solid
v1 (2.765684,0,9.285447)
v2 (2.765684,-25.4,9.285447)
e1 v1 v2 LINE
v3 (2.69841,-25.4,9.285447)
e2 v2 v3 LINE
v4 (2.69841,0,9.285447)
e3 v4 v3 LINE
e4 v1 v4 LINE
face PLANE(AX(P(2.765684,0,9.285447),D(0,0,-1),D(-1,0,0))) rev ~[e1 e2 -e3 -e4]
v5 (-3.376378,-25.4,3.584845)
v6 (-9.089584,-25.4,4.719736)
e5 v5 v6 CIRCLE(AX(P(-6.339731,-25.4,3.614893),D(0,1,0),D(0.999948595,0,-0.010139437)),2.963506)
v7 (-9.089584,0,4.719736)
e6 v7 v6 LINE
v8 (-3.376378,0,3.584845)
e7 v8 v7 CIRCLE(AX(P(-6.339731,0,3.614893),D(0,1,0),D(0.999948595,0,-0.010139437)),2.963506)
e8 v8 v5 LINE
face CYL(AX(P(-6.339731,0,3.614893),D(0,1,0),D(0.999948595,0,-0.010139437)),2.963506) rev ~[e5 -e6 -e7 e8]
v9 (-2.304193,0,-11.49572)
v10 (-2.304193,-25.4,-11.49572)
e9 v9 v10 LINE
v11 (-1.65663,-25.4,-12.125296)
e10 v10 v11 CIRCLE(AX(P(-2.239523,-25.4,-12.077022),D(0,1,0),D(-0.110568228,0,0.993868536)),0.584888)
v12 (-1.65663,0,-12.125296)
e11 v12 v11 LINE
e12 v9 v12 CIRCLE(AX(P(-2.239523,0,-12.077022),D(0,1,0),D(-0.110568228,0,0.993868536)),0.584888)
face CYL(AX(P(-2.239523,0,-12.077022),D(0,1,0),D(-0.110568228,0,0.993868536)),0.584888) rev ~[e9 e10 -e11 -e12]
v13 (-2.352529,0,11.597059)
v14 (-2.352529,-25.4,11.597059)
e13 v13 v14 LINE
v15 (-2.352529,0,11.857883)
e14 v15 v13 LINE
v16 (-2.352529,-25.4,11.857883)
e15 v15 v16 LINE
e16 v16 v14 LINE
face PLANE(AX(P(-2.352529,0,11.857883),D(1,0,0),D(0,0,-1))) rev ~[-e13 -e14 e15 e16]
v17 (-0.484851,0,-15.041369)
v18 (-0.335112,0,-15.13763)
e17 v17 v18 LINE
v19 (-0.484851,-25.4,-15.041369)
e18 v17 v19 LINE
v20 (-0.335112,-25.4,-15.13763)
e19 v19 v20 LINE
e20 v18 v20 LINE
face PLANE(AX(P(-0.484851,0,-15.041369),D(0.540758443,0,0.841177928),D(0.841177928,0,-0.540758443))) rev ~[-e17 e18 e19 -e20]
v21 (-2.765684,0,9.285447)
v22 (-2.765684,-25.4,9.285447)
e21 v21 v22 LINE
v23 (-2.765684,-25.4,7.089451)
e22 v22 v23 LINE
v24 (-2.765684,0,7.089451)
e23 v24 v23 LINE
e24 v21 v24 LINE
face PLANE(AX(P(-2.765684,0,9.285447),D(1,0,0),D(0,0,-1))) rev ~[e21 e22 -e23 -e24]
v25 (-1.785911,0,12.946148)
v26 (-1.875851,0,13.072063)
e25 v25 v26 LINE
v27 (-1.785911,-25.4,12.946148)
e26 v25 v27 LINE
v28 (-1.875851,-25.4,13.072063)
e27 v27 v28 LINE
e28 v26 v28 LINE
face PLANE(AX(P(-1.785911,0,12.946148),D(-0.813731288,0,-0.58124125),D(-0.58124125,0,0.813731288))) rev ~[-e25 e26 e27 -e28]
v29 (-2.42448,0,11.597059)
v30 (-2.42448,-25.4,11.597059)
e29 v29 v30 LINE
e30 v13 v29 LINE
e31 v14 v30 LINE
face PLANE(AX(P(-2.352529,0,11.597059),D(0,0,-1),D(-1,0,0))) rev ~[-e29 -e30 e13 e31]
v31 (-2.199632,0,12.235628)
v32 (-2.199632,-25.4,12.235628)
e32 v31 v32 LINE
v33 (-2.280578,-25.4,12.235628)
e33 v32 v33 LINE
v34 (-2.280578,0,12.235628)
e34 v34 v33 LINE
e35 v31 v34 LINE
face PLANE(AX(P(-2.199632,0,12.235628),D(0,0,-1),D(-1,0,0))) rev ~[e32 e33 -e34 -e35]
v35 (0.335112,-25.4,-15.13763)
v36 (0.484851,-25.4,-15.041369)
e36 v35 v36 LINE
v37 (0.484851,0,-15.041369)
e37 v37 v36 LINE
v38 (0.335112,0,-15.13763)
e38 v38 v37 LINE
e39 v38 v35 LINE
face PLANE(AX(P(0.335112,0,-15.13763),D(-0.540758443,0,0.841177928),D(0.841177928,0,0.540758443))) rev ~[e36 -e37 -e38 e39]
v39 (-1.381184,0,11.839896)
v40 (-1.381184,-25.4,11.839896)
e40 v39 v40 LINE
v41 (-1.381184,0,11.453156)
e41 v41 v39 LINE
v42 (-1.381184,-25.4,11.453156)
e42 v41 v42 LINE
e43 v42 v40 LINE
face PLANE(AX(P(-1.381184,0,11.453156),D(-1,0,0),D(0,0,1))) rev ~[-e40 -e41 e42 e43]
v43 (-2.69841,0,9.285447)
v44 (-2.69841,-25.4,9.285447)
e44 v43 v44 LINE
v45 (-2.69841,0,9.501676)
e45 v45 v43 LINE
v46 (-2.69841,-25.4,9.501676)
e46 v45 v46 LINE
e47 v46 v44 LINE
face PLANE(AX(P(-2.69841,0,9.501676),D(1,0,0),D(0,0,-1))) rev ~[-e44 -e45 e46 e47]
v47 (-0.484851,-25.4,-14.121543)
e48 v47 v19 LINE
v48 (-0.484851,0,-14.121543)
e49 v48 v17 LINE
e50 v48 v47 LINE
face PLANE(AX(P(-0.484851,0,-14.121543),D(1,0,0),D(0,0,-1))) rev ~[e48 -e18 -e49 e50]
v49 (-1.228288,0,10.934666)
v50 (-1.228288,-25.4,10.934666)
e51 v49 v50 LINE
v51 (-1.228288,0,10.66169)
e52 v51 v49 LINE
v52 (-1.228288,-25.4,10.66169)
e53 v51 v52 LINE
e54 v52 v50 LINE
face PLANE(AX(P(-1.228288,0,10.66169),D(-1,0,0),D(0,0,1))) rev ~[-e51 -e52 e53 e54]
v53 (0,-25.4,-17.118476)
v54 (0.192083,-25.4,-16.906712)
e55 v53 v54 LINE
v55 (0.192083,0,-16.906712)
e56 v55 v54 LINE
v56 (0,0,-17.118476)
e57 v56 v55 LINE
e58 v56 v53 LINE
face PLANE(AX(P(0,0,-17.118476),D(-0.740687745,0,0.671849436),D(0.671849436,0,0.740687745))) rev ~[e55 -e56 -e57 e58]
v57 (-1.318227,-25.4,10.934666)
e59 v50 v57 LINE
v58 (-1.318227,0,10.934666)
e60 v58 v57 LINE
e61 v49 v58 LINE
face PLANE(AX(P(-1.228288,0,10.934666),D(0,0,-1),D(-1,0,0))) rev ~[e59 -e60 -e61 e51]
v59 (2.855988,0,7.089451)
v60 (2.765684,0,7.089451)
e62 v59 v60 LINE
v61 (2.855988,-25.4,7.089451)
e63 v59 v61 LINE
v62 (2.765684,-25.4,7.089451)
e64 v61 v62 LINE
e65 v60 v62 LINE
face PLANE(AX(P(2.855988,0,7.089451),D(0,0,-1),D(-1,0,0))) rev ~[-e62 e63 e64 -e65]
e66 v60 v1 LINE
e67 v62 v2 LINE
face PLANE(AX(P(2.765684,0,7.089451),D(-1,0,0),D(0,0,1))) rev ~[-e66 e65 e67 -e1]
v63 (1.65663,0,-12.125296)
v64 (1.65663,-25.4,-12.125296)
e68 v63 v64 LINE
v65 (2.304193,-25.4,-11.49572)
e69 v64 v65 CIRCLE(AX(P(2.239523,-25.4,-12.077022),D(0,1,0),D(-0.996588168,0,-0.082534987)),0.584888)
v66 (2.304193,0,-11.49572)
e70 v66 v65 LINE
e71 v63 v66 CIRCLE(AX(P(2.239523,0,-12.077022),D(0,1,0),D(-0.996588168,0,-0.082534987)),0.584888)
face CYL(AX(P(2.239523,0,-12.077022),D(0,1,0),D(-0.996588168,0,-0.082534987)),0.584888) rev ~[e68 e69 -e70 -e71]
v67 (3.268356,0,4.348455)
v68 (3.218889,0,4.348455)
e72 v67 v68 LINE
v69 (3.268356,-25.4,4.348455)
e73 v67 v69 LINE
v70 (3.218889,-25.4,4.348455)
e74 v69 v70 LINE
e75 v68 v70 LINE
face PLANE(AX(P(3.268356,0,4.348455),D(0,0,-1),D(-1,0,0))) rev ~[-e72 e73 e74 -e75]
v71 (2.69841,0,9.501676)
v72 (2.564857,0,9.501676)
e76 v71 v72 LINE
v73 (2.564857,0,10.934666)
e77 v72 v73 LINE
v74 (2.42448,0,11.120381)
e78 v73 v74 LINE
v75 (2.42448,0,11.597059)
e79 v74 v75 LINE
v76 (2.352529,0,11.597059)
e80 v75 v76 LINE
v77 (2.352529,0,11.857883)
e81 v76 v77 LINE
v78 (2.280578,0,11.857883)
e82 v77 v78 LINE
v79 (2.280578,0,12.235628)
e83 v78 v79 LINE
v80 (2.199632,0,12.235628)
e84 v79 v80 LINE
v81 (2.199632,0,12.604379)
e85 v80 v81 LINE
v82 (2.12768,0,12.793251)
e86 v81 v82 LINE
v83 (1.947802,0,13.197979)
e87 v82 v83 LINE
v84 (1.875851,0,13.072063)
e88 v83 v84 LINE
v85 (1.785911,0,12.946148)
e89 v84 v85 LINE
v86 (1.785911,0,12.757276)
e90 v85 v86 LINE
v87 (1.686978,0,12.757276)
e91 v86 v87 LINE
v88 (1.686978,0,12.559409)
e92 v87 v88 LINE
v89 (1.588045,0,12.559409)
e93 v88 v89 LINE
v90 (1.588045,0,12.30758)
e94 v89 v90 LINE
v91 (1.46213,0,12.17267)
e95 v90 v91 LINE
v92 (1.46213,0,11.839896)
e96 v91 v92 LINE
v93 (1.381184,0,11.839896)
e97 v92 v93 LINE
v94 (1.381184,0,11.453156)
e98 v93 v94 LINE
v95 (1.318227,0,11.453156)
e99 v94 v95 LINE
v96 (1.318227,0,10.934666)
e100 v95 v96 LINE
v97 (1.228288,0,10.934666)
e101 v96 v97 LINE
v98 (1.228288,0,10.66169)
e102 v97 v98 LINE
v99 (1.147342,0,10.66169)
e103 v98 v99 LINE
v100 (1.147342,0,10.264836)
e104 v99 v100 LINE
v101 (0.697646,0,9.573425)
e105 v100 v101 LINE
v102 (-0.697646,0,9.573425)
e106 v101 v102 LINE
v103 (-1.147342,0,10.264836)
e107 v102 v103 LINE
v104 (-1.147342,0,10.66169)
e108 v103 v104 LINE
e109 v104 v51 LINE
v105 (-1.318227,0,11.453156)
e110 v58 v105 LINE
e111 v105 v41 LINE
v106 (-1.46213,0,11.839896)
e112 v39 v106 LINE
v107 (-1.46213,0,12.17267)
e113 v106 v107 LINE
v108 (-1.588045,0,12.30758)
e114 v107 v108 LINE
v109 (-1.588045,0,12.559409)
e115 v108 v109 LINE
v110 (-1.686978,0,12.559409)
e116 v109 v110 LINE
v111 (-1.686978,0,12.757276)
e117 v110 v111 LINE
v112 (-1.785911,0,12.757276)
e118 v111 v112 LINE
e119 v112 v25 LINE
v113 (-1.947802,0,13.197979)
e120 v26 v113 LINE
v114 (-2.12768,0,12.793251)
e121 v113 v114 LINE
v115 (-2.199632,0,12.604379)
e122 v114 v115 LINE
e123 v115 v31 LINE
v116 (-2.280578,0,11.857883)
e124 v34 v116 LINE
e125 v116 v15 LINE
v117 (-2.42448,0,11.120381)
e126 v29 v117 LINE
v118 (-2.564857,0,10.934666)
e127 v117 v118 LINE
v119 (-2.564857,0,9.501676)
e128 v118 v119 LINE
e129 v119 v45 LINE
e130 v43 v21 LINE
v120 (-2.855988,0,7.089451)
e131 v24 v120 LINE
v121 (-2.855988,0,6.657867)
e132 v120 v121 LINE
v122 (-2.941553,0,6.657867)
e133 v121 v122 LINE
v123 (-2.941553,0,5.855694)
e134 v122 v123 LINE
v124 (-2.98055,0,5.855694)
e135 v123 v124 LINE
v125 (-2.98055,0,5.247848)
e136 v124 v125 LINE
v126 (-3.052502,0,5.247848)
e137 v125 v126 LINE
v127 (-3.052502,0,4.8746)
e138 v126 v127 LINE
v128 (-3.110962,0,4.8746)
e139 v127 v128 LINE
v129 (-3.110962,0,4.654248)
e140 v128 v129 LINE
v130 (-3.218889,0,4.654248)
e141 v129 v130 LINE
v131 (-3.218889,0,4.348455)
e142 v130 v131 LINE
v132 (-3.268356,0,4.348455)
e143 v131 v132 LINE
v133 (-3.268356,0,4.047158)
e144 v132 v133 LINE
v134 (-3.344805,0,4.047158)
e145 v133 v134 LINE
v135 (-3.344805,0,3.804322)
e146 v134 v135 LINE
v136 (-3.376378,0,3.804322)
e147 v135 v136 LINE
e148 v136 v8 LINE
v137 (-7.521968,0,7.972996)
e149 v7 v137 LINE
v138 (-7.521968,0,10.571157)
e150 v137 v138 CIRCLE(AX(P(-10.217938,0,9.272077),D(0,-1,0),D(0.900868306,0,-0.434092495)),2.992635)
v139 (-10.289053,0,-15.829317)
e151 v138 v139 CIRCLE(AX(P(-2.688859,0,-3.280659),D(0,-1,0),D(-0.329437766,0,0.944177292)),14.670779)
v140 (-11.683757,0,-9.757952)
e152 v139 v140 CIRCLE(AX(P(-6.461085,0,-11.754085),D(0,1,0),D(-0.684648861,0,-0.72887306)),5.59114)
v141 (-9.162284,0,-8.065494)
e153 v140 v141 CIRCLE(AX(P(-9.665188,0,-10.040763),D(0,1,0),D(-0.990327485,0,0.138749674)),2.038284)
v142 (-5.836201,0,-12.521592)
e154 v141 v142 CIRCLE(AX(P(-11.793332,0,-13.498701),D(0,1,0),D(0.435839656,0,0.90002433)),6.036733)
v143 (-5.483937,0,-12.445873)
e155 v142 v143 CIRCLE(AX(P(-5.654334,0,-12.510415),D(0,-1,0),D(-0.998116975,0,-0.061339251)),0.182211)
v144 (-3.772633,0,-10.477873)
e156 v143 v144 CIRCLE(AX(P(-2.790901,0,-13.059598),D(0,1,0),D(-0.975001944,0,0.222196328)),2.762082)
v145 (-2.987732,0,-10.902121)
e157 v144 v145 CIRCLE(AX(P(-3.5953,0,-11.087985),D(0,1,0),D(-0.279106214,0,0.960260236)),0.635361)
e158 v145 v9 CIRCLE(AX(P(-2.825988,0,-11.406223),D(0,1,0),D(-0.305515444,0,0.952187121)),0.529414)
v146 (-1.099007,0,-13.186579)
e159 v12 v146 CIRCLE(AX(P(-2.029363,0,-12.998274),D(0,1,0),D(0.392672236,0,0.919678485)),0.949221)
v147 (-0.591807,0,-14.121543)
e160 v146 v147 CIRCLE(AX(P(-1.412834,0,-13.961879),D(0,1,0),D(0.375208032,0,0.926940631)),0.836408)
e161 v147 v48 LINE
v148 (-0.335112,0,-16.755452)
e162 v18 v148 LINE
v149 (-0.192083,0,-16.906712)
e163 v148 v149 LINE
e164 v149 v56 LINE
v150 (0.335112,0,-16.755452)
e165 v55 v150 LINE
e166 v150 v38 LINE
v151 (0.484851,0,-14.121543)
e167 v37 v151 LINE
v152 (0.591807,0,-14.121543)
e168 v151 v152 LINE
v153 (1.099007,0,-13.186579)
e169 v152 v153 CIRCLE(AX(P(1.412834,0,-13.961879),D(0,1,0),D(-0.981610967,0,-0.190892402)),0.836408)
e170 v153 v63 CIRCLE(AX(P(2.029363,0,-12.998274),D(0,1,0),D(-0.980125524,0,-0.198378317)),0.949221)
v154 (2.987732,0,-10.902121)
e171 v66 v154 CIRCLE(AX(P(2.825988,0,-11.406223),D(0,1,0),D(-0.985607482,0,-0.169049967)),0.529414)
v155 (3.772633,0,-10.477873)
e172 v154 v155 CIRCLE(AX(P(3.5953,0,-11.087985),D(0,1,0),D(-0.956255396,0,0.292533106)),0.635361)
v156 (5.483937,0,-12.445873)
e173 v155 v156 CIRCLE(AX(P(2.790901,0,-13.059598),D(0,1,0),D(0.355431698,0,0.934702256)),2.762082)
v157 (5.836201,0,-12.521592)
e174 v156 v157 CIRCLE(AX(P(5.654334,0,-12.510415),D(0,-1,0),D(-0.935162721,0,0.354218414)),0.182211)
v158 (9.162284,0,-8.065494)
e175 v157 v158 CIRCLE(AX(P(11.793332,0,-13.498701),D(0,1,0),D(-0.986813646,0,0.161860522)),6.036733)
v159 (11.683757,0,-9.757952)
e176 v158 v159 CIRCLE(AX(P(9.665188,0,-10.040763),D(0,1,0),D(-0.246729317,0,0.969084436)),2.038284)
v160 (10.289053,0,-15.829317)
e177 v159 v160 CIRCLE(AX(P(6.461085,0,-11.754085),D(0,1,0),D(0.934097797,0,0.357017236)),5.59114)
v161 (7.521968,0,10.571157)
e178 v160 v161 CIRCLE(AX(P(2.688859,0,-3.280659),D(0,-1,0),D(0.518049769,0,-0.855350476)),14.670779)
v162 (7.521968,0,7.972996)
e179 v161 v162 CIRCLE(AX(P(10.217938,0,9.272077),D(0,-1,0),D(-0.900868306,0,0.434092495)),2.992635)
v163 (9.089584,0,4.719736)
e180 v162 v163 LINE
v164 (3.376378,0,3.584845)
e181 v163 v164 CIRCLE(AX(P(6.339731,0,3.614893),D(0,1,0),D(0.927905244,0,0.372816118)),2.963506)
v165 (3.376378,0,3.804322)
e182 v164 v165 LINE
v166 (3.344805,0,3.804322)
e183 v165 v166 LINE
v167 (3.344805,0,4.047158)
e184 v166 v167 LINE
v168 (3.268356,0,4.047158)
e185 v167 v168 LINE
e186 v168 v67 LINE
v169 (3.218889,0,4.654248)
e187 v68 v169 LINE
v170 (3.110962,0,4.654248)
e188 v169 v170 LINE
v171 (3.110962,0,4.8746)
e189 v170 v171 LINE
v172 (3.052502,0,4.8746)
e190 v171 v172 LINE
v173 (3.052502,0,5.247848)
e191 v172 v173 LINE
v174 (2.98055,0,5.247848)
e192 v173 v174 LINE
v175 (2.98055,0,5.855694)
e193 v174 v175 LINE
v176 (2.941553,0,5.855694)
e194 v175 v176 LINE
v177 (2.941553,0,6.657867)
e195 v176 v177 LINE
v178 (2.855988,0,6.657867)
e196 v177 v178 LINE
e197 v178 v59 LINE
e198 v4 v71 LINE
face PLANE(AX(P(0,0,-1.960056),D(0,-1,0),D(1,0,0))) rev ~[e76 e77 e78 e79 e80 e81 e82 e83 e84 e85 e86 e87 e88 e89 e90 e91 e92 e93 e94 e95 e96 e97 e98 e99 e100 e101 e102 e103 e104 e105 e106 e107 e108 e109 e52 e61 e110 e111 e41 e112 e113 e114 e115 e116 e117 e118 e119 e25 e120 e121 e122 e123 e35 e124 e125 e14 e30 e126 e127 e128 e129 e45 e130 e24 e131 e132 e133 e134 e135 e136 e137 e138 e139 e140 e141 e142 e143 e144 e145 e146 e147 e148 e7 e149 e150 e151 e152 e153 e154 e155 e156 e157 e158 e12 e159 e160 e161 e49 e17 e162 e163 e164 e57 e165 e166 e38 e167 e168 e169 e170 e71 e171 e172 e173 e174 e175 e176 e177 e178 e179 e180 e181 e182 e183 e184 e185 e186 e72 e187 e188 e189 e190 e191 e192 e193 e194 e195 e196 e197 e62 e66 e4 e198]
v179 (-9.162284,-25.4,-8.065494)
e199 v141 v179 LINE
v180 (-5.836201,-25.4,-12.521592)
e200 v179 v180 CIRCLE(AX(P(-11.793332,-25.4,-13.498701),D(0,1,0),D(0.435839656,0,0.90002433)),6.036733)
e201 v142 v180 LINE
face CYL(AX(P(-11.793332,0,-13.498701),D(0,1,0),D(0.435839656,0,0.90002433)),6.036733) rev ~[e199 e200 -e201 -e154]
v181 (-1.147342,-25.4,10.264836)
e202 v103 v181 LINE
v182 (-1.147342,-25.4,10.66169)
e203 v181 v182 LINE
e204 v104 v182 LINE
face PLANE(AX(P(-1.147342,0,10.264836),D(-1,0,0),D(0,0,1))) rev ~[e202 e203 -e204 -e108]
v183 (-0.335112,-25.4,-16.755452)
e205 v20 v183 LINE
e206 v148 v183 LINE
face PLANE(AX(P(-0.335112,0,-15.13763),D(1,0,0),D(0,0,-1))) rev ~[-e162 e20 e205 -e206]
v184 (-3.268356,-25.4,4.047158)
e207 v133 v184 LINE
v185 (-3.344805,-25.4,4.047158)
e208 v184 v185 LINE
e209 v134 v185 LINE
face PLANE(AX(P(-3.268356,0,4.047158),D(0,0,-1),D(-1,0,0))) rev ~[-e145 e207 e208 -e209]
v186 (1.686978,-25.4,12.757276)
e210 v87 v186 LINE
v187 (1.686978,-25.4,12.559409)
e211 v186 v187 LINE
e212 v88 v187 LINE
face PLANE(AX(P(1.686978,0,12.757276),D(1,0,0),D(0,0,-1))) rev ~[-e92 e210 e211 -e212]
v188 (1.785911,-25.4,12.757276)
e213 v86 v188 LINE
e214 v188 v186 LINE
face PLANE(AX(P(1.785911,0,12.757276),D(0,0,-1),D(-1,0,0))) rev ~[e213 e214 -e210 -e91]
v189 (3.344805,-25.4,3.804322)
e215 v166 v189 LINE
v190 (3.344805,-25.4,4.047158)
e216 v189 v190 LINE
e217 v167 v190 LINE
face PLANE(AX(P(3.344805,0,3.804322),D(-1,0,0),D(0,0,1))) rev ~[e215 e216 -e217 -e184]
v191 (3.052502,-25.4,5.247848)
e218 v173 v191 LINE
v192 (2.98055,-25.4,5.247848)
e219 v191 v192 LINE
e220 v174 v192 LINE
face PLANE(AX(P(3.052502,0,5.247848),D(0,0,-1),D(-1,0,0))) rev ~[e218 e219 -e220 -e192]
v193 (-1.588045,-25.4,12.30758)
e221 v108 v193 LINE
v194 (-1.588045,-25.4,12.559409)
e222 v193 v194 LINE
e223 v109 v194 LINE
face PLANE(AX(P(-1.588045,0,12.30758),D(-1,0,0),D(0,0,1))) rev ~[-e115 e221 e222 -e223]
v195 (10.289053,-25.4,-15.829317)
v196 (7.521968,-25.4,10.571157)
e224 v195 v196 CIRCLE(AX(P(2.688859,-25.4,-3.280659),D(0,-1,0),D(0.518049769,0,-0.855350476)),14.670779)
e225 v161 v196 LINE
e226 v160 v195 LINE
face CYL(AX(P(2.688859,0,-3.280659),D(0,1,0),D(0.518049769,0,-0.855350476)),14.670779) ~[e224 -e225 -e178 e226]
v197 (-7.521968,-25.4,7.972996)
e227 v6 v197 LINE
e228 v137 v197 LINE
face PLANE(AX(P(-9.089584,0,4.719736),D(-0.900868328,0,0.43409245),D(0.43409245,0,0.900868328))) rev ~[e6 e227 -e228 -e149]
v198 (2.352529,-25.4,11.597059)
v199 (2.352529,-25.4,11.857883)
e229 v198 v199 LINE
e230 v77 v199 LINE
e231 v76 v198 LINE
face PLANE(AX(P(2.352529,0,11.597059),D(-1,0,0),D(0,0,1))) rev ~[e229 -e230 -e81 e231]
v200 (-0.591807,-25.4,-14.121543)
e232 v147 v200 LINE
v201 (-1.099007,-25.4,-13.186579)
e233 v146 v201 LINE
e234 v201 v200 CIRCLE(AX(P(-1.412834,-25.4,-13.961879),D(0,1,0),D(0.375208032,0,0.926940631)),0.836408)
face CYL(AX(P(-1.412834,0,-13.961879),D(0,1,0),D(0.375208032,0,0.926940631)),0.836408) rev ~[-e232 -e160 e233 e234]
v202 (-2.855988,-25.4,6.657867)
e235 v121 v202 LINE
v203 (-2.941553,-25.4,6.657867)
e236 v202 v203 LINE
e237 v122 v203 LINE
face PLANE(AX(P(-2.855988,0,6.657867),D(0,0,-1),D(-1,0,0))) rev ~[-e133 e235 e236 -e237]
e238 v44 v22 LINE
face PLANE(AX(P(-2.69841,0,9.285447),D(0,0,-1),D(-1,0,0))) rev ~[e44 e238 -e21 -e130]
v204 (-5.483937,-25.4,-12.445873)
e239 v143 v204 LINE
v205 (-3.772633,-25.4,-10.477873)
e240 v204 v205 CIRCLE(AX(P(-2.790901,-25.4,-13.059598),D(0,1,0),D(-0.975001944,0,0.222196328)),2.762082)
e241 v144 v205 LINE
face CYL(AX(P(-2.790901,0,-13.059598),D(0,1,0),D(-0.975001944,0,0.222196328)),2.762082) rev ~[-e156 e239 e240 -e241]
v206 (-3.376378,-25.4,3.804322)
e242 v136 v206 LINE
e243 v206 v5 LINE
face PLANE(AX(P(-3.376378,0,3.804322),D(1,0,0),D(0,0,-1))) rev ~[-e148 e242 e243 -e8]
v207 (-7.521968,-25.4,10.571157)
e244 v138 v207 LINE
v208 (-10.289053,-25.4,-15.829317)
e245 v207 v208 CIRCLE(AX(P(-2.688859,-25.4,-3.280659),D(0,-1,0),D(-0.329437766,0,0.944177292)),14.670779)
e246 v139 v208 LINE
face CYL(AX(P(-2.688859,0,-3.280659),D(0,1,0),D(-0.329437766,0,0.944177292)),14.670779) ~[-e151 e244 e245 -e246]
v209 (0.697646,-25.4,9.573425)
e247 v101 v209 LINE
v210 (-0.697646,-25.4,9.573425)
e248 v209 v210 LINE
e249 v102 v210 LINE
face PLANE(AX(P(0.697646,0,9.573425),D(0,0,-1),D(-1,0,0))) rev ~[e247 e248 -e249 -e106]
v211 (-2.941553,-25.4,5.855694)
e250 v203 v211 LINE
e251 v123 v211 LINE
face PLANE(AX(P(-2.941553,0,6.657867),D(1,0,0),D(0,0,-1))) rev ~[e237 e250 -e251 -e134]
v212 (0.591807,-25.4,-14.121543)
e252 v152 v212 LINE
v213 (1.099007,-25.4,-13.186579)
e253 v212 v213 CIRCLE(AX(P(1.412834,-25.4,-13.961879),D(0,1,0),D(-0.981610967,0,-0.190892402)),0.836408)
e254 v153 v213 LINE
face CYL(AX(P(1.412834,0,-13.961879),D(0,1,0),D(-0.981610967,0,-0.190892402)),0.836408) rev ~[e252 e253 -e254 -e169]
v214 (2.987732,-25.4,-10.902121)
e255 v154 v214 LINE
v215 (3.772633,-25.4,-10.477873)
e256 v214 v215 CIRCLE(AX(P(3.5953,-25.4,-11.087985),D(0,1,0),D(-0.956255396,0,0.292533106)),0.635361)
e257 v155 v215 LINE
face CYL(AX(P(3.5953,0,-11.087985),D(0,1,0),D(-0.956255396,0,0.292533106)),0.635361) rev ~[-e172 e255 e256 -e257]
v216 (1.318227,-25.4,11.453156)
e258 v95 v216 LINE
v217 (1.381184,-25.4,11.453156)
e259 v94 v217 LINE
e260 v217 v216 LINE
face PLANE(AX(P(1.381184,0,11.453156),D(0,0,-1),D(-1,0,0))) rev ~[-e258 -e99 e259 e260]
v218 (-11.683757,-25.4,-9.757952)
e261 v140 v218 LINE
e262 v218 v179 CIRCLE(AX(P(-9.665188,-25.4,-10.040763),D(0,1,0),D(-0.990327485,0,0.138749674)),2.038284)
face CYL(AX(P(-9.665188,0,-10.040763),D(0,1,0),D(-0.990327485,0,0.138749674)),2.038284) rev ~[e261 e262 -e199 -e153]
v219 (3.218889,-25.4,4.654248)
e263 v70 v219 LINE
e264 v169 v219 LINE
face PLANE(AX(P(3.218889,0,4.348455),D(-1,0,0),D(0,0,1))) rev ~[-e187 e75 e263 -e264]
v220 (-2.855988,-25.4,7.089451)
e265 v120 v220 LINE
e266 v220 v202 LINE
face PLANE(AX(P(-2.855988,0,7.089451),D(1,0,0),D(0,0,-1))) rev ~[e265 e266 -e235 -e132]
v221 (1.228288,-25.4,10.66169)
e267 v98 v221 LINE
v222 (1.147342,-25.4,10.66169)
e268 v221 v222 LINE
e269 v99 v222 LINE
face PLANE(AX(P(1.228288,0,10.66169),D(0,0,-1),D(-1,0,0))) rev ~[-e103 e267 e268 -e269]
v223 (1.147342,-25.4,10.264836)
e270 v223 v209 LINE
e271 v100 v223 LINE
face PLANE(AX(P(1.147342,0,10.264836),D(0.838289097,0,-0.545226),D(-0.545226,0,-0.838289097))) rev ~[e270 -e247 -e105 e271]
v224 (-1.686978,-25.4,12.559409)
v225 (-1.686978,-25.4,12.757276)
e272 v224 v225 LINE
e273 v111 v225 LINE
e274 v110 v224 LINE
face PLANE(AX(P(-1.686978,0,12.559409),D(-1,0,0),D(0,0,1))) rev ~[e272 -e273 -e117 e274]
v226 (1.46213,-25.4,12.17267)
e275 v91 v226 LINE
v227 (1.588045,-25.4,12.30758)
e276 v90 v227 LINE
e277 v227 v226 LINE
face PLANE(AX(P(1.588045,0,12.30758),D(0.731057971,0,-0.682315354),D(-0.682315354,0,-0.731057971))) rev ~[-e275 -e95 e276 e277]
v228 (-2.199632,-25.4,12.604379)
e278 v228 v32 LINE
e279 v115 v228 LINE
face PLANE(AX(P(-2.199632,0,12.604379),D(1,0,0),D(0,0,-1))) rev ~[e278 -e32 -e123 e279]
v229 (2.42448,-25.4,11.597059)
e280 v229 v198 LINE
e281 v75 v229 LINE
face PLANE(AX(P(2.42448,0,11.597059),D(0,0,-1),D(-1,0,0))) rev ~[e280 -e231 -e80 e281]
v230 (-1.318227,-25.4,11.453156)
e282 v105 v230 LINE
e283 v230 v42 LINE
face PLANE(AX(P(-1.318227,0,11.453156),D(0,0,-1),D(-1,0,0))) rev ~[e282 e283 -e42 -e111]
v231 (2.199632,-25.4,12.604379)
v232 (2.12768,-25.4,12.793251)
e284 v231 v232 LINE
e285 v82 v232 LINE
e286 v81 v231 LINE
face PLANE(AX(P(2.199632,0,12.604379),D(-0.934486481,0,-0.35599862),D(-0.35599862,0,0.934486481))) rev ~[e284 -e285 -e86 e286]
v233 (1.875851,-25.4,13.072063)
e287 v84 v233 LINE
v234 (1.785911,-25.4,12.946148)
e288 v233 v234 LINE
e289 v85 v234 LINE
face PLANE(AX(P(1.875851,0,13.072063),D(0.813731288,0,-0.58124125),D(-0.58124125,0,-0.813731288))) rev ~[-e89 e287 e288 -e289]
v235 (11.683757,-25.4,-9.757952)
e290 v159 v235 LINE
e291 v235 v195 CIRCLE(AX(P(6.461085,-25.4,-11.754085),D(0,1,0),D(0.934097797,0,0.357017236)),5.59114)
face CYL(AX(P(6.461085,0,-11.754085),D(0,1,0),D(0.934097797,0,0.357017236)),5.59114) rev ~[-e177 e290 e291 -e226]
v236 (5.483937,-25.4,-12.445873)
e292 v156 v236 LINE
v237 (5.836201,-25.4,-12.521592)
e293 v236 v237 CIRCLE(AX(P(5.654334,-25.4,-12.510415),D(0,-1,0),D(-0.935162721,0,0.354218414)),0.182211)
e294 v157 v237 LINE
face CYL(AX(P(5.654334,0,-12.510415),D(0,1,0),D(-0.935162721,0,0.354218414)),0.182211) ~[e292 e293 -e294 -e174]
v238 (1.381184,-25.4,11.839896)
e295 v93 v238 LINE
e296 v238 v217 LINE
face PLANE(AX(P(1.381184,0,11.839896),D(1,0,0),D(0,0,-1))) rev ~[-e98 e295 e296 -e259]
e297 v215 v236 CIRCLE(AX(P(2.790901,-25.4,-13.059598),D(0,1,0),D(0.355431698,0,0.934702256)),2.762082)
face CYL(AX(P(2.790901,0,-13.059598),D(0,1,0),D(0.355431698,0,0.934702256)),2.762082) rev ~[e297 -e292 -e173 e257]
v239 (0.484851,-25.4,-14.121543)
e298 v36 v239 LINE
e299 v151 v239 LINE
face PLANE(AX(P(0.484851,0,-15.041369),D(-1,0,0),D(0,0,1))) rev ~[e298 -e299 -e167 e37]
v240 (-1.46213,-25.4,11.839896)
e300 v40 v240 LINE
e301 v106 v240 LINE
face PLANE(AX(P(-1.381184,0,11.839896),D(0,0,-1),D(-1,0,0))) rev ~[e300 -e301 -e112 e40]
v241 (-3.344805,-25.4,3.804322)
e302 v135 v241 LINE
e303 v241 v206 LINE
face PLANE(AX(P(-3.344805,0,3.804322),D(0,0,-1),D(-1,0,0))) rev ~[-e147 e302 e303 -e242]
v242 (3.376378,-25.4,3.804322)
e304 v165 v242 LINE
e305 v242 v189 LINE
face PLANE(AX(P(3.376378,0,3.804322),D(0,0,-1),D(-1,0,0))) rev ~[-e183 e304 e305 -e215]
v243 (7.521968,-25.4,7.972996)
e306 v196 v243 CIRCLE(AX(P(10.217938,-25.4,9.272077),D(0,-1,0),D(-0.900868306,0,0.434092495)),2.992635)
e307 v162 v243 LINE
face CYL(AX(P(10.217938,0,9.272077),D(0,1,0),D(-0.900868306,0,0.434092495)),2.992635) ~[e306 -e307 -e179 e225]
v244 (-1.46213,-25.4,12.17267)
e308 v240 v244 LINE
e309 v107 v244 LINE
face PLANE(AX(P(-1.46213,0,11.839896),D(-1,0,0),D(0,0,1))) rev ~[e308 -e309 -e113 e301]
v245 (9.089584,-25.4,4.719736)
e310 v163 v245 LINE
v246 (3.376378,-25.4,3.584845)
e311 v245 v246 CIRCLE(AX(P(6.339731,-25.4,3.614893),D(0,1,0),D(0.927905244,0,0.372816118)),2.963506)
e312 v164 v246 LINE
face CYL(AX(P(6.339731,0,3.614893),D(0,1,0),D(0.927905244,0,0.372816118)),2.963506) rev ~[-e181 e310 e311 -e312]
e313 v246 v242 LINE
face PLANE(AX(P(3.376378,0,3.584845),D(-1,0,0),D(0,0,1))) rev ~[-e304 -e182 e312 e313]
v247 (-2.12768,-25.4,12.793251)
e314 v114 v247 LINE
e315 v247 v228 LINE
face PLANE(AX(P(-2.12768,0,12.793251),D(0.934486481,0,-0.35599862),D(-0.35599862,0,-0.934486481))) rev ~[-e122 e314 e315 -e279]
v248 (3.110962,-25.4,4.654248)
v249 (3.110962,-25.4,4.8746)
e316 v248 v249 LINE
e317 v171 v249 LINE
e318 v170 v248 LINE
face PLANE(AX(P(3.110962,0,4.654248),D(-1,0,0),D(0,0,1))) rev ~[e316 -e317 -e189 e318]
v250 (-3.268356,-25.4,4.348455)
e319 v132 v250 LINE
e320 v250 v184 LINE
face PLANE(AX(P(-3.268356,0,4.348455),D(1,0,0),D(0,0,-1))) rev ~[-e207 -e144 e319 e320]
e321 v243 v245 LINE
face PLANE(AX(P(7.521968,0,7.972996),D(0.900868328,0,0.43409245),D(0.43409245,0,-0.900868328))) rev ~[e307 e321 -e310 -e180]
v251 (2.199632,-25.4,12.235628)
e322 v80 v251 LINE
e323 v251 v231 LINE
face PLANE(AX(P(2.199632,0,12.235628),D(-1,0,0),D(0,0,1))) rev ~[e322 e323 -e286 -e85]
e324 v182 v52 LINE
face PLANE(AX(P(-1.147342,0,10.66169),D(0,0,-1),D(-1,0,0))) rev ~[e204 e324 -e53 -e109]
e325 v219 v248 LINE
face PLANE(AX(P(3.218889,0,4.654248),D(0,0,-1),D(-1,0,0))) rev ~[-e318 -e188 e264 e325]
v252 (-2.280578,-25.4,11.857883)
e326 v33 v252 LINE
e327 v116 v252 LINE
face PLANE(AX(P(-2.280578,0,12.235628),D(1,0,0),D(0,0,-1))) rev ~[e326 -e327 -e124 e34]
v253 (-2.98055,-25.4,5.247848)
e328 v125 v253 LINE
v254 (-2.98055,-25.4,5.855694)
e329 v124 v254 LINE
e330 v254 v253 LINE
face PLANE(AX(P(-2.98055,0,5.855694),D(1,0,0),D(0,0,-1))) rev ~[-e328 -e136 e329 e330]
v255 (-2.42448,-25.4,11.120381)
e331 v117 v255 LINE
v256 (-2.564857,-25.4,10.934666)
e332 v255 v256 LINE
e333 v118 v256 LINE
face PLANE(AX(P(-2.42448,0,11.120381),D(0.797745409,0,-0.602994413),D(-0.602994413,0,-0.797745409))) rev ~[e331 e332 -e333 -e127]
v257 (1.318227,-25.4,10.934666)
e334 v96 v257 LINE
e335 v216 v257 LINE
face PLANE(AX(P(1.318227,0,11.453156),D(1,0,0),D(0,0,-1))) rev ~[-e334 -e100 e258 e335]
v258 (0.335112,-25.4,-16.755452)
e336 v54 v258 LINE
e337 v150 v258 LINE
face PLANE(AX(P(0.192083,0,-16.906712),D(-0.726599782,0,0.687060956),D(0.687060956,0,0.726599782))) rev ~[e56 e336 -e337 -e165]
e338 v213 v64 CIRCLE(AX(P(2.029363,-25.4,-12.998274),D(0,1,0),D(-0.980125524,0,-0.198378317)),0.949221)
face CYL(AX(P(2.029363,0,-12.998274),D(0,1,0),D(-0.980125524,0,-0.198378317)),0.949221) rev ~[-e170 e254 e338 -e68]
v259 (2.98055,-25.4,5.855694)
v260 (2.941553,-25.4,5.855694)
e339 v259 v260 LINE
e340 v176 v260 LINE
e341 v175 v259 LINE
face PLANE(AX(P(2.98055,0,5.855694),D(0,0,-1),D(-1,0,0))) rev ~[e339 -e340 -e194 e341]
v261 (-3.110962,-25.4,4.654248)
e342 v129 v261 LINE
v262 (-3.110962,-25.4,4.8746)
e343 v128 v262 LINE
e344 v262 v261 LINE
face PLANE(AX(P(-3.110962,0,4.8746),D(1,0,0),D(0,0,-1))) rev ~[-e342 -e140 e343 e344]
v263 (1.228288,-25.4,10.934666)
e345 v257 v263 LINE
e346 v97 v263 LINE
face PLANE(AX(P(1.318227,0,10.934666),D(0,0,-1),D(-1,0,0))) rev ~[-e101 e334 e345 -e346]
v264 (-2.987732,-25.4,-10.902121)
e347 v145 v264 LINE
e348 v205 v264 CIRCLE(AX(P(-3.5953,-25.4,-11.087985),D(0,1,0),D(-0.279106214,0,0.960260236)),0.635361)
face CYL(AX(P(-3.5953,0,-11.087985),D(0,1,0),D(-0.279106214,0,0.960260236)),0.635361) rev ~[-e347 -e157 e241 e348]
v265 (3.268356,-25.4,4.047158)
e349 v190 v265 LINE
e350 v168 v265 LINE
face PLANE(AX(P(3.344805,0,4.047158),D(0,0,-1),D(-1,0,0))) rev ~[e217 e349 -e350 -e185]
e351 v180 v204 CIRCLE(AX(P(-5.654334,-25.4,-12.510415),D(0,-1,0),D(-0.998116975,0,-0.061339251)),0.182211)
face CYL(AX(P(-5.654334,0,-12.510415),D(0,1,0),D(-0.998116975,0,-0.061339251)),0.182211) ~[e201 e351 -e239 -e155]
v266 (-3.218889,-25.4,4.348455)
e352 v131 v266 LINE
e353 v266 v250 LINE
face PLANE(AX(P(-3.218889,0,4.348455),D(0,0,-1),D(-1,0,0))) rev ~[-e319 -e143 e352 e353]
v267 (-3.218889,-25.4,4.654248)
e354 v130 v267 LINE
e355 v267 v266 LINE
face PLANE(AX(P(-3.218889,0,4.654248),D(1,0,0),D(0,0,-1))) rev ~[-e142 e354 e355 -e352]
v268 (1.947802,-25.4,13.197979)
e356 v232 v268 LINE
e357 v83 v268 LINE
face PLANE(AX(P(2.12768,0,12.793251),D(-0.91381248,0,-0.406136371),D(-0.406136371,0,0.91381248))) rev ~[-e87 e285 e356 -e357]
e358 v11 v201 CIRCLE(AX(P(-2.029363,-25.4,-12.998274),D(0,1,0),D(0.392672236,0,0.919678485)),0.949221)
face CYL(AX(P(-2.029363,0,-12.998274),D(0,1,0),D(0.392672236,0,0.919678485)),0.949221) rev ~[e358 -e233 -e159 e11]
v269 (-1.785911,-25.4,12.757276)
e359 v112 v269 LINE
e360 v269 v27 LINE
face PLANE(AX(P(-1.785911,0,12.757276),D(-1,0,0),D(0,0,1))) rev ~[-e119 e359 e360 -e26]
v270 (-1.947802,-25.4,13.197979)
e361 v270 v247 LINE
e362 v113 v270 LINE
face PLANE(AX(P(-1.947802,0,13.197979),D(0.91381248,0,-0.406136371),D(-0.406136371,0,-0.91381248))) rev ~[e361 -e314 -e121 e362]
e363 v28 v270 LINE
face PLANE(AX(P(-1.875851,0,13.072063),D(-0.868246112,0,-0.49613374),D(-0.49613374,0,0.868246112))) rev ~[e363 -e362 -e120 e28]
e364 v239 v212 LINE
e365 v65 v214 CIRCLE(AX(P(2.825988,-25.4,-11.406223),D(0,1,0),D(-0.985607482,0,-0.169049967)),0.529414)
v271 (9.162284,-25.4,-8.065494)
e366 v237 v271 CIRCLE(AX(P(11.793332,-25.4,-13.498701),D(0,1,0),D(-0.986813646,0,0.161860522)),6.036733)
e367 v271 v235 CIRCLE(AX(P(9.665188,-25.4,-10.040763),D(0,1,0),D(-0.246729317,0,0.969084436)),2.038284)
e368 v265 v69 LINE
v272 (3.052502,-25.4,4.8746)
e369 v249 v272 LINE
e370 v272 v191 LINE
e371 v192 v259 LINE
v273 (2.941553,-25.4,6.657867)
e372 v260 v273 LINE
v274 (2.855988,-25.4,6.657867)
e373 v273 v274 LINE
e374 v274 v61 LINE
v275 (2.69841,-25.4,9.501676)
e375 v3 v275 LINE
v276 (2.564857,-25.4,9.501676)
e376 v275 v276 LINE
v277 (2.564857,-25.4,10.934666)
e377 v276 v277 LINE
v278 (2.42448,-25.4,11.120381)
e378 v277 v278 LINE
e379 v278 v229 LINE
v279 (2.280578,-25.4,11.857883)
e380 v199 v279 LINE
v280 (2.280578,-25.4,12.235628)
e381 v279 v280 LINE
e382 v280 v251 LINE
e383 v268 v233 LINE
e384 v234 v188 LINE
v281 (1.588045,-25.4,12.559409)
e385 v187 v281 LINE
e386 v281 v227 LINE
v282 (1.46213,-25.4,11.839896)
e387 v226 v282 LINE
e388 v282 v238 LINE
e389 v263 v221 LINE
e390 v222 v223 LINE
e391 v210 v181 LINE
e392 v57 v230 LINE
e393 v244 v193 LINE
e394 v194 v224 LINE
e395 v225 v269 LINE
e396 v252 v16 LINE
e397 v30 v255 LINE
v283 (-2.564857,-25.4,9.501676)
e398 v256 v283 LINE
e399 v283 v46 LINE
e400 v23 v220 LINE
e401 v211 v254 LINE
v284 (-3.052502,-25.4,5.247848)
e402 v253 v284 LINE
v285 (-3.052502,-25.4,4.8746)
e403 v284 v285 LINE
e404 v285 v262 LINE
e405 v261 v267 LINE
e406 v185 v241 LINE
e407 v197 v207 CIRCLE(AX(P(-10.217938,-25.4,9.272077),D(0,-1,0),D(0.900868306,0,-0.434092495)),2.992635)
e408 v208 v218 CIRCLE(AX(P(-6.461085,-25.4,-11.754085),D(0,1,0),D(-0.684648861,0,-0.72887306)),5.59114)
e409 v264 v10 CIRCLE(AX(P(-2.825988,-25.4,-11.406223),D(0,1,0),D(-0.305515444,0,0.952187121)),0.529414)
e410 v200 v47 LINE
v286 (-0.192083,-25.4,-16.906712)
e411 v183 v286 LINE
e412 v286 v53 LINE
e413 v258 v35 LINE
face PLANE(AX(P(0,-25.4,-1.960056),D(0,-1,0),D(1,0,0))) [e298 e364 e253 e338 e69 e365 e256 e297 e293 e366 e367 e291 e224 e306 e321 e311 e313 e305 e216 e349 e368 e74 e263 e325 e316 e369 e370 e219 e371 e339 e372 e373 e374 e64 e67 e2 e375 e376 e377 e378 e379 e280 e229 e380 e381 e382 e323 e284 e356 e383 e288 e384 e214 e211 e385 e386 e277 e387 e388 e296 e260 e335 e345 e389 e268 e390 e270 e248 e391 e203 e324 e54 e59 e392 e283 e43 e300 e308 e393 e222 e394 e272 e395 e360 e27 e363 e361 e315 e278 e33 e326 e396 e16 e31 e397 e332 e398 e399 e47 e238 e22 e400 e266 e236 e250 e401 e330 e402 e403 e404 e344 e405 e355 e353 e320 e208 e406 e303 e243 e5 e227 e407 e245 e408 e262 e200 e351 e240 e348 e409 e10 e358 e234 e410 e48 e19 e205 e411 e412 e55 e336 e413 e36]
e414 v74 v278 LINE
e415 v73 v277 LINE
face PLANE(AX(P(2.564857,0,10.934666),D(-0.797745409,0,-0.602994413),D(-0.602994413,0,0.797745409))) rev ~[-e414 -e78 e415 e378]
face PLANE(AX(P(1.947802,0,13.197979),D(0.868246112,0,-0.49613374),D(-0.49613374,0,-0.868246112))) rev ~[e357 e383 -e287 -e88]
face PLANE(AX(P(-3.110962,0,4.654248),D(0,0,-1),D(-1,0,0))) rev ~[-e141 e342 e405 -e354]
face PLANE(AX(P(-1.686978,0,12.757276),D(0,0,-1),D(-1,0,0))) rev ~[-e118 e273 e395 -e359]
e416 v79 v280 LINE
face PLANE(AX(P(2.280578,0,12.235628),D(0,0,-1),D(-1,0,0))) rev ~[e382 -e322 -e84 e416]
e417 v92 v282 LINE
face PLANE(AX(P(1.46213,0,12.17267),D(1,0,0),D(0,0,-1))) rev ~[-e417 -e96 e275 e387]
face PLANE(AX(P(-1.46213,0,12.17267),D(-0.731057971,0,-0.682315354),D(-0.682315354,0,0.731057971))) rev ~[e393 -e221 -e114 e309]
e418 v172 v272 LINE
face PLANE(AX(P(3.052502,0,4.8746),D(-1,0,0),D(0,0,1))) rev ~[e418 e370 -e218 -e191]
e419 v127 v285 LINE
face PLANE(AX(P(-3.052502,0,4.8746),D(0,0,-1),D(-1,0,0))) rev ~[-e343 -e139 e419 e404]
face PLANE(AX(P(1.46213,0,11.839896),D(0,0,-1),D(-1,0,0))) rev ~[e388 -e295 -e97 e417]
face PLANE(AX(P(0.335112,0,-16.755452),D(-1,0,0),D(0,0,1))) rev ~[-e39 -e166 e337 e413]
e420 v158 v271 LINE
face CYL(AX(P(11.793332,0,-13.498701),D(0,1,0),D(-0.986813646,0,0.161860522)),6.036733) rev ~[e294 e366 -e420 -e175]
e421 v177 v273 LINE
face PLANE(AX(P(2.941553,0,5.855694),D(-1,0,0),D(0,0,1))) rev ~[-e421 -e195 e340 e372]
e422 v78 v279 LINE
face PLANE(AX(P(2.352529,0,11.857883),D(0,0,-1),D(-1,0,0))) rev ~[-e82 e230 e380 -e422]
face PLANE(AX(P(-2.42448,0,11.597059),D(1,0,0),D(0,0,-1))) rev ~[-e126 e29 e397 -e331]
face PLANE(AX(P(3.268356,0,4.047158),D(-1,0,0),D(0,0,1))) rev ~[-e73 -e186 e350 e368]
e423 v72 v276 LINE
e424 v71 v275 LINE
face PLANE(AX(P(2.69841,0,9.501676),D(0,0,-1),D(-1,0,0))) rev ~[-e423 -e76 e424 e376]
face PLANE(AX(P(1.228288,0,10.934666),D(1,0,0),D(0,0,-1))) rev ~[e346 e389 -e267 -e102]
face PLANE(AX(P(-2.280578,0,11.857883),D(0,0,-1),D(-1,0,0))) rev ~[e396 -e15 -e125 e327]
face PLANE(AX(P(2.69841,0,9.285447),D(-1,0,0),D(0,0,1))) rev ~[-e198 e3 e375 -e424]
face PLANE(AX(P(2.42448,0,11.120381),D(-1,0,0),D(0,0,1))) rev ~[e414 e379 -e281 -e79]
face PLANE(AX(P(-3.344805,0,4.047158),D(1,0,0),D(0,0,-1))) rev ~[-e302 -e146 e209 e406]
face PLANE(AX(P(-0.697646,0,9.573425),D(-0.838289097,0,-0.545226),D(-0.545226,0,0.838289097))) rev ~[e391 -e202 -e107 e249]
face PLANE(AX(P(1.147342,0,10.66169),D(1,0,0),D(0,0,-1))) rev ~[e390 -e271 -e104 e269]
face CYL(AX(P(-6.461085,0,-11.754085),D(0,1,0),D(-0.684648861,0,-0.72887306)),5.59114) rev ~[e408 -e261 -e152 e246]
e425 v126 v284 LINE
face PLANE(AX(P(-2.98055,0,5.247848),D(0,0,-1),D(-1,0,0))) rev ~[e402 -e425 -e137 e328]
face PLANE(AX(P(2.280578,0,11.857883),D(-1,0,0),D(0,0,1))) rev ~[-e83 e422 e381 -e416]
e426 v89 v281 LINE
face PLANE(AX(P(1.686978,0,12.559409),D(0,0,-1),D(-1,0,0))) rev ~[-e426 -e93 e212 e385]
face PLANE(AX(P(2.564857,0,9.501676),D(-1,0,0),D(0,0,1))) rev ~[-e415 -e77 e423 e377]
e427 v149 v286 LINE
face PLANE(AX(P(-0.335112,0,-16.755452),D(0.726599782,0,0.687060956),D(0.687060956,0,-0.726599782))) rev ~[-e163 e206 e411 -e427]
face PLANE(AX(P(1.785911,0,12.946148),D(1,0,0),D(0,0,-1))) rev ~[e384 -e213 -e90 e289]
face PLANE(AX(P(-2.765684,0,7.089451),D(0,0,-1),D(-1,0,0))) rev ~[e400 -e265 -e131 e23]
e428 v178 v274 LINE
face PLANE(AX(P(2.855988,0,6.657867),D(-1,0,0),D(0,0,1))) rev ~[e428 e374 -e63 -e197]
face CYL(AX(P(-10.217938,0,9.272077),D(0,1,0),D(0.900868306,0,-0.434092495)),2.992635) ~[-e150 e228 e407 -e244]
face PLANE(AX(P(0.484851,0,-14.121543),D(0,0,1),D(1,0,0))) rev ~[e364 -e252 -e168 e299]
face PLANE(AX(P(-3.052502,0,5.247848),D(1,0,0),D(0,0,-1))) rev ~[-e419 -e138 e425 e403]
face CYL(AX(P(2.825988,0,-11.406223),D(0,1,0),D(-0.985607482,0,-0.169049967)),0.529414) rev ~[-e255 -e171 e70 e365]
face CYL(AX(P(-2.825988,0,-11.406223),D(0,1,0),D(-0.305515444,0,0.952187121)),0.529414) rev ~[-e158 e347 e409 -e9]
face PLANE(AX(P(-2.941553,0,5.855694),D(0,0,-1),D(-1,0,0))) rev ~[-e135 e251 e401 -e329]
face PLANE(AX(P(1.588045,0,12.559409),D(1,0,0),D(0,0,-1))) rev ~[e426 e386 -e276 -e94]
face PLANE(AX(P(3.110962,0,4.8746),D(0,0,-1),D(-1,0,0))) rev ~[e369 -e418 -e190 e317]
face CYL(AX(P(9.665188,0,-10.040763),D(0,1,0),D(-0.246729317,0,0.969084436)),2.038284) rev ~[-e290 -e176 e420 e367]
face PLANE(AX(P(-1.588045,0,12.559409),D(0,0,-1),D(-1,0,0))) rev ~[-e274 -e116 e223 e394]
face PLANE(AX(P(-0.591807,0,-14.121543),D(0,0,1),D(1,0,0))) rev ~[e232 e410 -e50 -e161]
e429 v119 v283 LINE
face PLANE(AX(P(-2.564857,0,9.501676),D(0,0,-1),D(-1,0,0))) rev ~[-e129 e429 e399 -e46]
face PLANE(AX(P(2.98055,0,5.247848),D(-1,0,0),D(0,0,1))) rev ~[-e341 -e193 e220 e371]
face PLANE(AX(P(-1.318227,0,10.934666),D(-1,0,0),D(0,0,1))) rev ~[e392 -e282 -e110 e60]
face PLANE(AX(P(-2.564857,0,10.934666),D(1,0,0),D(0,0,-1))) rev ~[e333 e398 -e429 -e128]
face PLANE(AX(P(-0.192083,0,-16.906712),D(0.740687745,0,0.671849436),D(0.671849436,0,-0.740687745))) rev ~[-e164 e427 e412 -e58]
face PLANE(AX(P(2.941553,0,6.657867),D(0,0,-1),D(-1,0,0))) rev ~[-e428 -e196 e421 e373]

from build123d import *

# Parameters (mm, degrees)
F1_DEPTH = 25.4


with BuildPart() as f1:
    # F0 (on Front) → F1 (new body)
    with BuildSketch(Plane.XZ):
        with BuildLine():
            ThreePointArc((11.683757, -9.757952), (11.910295, -13.005869), (10.289053, -15.829317))
            ThreePointArc((10.289053, -15.829317), (17.279713, -1.751364), (7.521968, 10.571157))
            ThreePointArc((7.521968, 10.571157), (7.225303, 9.272076), (7.521968, 7.972996))
            Line((7.521968, 7.972996), (9.089584, 4.719736))
            ThreePointArc((9.089584, 4.719736), (6.917131, 0.708181), (3.376378, 3.584845))
            Line((3.376378, 3.584845), (3.376378, 3.804322))
            Line((3.376378, 3.804322), (3.344805, 3.804322))
            Line((3.344805, 3.804322), (3.344805, 4.047158))
            Line((3.344805, 4.047158), (3.268356, 4.047158))
            Line((3.268356, 4.047158), (3.268356, 4.348455))
            Line((3.268356, 4.348455), (3.218889, 4.348455))
            Line((3.218889, 4.348455), (3.218889, 4.654248))
            Line((3.218889, 4.654248), (3.110962, 4.654248))
            Line((3.110962, 4.654248), (3.110962, 4.8746))
            Line((3.110962, 4.8746), (3.052502, 4.8746))
            Line((3.052502, 4.8746), (3.052502, 5.247848))
            Line((3.052502, 5.247848), (2.98055, 5.247848))
            Line((2.98055, 5.247848), (2.98055, 5.855694))
            Line((2.98055, 5.855694), (2.941553, 5.855694))
            Line((2.941553, 5.855694), (2.941553, 6.657867))
            Line((2.941553, 6.657867), (2.855988, 6.657867))
            Line((2.855988, 6.657867), (2.855988, 7.089451))
            Line((2.855988, 7.089451), (2.765684, 7.089451))
            Line((2.765684, 7.089451), (2.765684, 7.641547))
            Line((2.765684, 7.641547), (2.765684, 9.285447))
            Line((2.765684, 9.285447), (2.69841, 9.285447))
            Line((2.69841, 9.285447), (2.69841, 9.501676))
            Line((2.69841, 9.501676), (2.564857, 9.501676))
            Line((2.564857, 9.501676), (2.564857, 10.264836))
            Line((2.564857, 10.264836), (2.564857, 10.934666))
            Line((2.564857, 10.934666), (2.42448, 11.120381))
            Line((2.42448, 11.120381), (2.42448, 11.597059))
            Line((2.42448, 11.597059), (2.352529, 11.597059))
            Line((2.352529, 11.597059), (2.352529, 11.857883))
            Line((2.352529, 11.857883), (2.280578, 11.857883))
            Line((2.280578, 11.857883), (2.280578, 12.235628))
            Line((2.280578, 12.235628), (2.199632, 12.235628))
            Line((2.199632, 12.235628), (2.199632, 12.451482))
            Line((2.199632, 12.451482), (2.199632, 12.604379))
            Line((2.199632, 12.604379), (2.12768, 12.793251))
            Line((2.12768, 12.793251), (1.947802, 13.197979))
            Line((1.947802, 13.197979), (1.875851, 13.072063))
            Line((1.875851, 13.072063), (1.785911, 12.946148))
            Line((1.785911, 12.946148), (1.785911, 12.757276))
            Line((1.785911, 12.757276), (1.686978, 12.757276))
            Line((1.686978, 12.757276), (1.686978, 12.559409))
            Line((1.686978, 12.559409), (1.588045, 12.559409))
            Line((1.588045, 12.559409), (1.588045, 12.30758))
            Line((1.588045, 12.30758), (1.46213, 12.17267))
            Line((1.46213, 12.17267), (1.46213, 11.839896))
            Line((1.46213, 11.839896), (1.381184, 11.839896))
            Line((1.381184, 11.839896), (1.381184, 11.453156))
            Line((1.381184, 11.453156), (1.318227, 11.453156))
            Line((1.318227, 11.453156), (1.318227, 10.934666))
            Line((1.318227, 10.934666), (1.228288, 10.934666))
            Line((1.228288, 10.934666), (1.228288, 10.66169))
            Line((1.228288, 10.66169), (1.147342, 10.66169))
            Line((1.147342, 10.66169), (1.147342, 10.264836))
            Line((1.147342, 10.264836), (0.697646, 9.573425))
            Line((0.697646, 9.573425), (0, 9.573425))
            Line((0, 9.573425), (-0.697646, 9.573425))
            Line((-0.697646, 9.573425), (-1.147342, 10.264836))
            Line((-1.147342, 10.264836), (-1.147342, 10.66169))
            Line((-1.147342, 10.66169), (-1.228288, 10.66169))
            Line((-1.228288, 10.66169), (-1.228288, 10.934666))
            Line((-1.228288, 10.934666), (-1.318227, 10.934666))
            Line((-1.318227, 10.934666), (-1.318227, 11.453156))
            Line((-1.318227, 11.453156), (-1.381184, 11.453156))
            Line((-1.381184, 11.453156), (-1.381184, 11.839896))
            Line((-1.381184, 11.839896), (-1.46213, 11.839896))
            Line((-1.46213, 11.839896), (-1.46213, 12.17267))
            Line((-1.46213, 12.17267), (-1.588045, 12.30758))
            Line((-1.588045, 12.30758), (-1.588045, 12.559409))
            Line((-1.588045, 12.559409), (-1.686978, 12.559409))
            Line((-1.686978, 12.559409), (-1.686978, 12.757276))
            Line((-1.686978, 12.757276), (-1.785911, 12.757276))
            Line((-1.785911, 12.757276), (-1.785911, 12.946148))
            Line((-1.785911, 12.946148), (-1.875851, 13.072063))
            Line((-1.875851, 13.072063), (-1.947802, 13.197979))
            Line((-1.947802, 13.197979), (-2.12768, 12.793251))
            Line((-2.12768, 12.793251), (-2.199632, 12.604379))
            Line((-2.199632, 12.604379), (-2.199632, 12.451482))
            Line((-2.199632, 12.451482), (-2.199632, 12.235628))
            Line((-2.199632, 12.235628), (-2.280578, 12.235628))
            Line((-2.280578, 12.235628), (-2.280578, 11.857883))
            Line((-2.280578, 11.857883), (-2.352529, 11.857883))
            Line((-2.352529, 11.857883), (-2.352529, 11.597059))
            Line((-2.352529, 11.597059), (-2.42448, 11.597059))
            Line((-2.42448, 11.597059), (-2.42448, 11.120381))
            Line((-2.42448, 11.120381), (-2.564857, 10.934666))
            Line((-2.564857, 10.934666), (-2.564857, 10.264836))
            Line((-2.564857, 10.264836), (-2.564857, 9.501676))
            Line((-2.564857, 9.501676), (-2.69841, 9.501676))
            Line((-2.69841, 9.501676), (-2.69841, 9.285447))
            Line((-2.69841, 9.285447), (-2.765684, 9.285447))
            Line((-2.765684, 9.285447), (-2.765684, 7.641547))
            Line((-2.765684, 7.641547), (-2.765684, 7.089451))
            Line((-2.765684, 7.089451), (-2.855988, 7.089451))
            Line((-2.855988, 7.089451), (-2.855988, 6.657867))
            Line((-2.855988, 6.657867), (-2.941553, 6.657867))
            Line((-2.941553, 6.657867), (-2.941553, 5.855694))
            Line((-2.941553, 5.855694), (-2.98055, 5.855694))
            Line((-2.98055, 5.855694), (-2.98055, 5.247848))
            Line((-2.98055, 5.247848), (-3.052502, 5.247848))
            Line((-3.052502, 5.247848), (-3.052502, 4.8746))
            Line((-3.052502, 4.8746), (-3.110962, 4.8746))
            Line((-3.110962, 4.8746), (-3.110962, 4.654248))
            Line((-3.110962, 4.654248), (-3.218889, 4.654248))
            Line((-3.218889, 4.654248), (-3.218889, 4.348455))
            Line((-3.218889, 4.348455), (-3.268356, 4.348455))
            Line((-3.268356, 4.348455), (-3.268356, 4.047158))
            Line((-3.268356, 4.047158), (-3.344805, 4.047158))
            Line((-3.344805, 4.047158), (-3.344805, 3.804322))
            Line((-3.344805, 3.804322), (-3.376378, 3.804322))
            Line((-3.376378, 3.804322), (-3.376378, 3.584845))
            ThreePointArc((-3.376378, 3.584845), (-6.917131, 0.708181), (-9.089584, 4.719736))
            Line((-9.089584, 4.719736), (-7.521968, 7.972996))
            ThreePointArc((-7.521968, 7.972996), (-7.225303, 9.272076), (-7.521968, 10.571157))
            ThreePointArc((-7.521968, 10.571157), (-17.279713, -1.751364), (-10.289053, -15.829317))
            ThreePointArc((-10.289053, -15.829317), (-11.910295, -13.005869), (-11.683757, -9.757952))
            ThreePointArc((-11.683757, -9.757952), (-10.801152, -8.348372), (-9.162284, -8.065494))
            ThreePointArc((-9.162284, -8.065494), (-6.955625, -9.887781), (-5.836201, -12.521592))
            ThreePointArc((-5.836201, -12.521592), (-5.616042, -12.688557), (-5.483937, -12.445873))
            ThreePointArc((-5.483937, -12.445873), (-4.875184, -11.247178), (-3.772633, -10.477873))
            ThreePointArc((-3.772633, -10.477873), (-3.293187, -10.529047), (-2.987732, -10.902121))
            ThreePointArc((-2.987732, -10.902121), (-2.478858, -11.006497), (-2.304193, -11.49572))
            ThreePointArc((-2.304193, -11.49572), (-1.83181, -11.65766), (-1.65663, -12.125296))
            ThreePointArc((-1.65663, -12.125296), (-1.189071, -12.556765), (-1.099007, -13.186579))
            ThreePointArc((-1.099007, -13.186579), (-0.677638, -13.56305), (-0.591807, -14.121543))
            Line((-0.591807, -14.121543), (-0.484851, -14.121543))
            Line((-0.484851, -14.121543), (-0.484851, -15.041369))
            Line((-0.484851, -15.041369), (-0.335112, -15.13763))
            Line((-0.335112, -15.13763), (-0.335112, -16.196499))
            Line((-0.335112, -16.196499), (-0.335112, -16.755452))
            Line((-0.335112, -16.755452), (-0.192083, -16.906712))
            Line((-0.192083, -16.906712), (0, -17.118476))
            Line((0, -17.118476), (0.192083, -16.906712))
            Line((0.192083, -16.906712), (0.335112, -16.755452))
            Line((0.335112, -16.755452), (0.335112, -16.196499))
            Line((0.335112, -16.196499), (0.335112, -15.13763))
            Line((0.335112, -15.13763), (0.484851, -15.041369))
            Line((0.484851, -15.041369), (0.484851, -14.121543))
            Line((0.484851, -14.121543), (0.591807, -14.121543))
            ThreePointArc((0.591807, -14.121543), (0.677638, -13.56305), (1.099007, -13.186579))
            ThreePointArc((1.099007, -13.186579), (1.189071, -12.556765), (1.65663, -12.125296))
            ThreePointArc((1.65663, -12.125296), (1.83181, -11.65766), (2.304193, -11.49572))
            ThreePointArc((2.304193, -11.49572), (2.478858, -11.006497), (2.987732, -10.902121))
            ThreePointArc((2.987732, -10.902121), (3.293187, -10.529047), (3.772633, -10.477873))
            ThreePointArc((3.772633, -10.477873), (4.875184, -11.247178), (5.483937, -12.445873))
            ThreePointArc((5.483937, -12.445873), (5.616042, -12.688557), (5.836201, -12.521592))
            ThreePointArc((5.836201, -12.521592), (6.955625, -9.887781), (9.162284, -8.065494))
            ThreePointArc((9.162284, -8.065494), (10.801152, -8.348372), (11.683757, -9.757952))
        make_face()
    extrude(amount=F1_DEPTH)


solid = f1.part
